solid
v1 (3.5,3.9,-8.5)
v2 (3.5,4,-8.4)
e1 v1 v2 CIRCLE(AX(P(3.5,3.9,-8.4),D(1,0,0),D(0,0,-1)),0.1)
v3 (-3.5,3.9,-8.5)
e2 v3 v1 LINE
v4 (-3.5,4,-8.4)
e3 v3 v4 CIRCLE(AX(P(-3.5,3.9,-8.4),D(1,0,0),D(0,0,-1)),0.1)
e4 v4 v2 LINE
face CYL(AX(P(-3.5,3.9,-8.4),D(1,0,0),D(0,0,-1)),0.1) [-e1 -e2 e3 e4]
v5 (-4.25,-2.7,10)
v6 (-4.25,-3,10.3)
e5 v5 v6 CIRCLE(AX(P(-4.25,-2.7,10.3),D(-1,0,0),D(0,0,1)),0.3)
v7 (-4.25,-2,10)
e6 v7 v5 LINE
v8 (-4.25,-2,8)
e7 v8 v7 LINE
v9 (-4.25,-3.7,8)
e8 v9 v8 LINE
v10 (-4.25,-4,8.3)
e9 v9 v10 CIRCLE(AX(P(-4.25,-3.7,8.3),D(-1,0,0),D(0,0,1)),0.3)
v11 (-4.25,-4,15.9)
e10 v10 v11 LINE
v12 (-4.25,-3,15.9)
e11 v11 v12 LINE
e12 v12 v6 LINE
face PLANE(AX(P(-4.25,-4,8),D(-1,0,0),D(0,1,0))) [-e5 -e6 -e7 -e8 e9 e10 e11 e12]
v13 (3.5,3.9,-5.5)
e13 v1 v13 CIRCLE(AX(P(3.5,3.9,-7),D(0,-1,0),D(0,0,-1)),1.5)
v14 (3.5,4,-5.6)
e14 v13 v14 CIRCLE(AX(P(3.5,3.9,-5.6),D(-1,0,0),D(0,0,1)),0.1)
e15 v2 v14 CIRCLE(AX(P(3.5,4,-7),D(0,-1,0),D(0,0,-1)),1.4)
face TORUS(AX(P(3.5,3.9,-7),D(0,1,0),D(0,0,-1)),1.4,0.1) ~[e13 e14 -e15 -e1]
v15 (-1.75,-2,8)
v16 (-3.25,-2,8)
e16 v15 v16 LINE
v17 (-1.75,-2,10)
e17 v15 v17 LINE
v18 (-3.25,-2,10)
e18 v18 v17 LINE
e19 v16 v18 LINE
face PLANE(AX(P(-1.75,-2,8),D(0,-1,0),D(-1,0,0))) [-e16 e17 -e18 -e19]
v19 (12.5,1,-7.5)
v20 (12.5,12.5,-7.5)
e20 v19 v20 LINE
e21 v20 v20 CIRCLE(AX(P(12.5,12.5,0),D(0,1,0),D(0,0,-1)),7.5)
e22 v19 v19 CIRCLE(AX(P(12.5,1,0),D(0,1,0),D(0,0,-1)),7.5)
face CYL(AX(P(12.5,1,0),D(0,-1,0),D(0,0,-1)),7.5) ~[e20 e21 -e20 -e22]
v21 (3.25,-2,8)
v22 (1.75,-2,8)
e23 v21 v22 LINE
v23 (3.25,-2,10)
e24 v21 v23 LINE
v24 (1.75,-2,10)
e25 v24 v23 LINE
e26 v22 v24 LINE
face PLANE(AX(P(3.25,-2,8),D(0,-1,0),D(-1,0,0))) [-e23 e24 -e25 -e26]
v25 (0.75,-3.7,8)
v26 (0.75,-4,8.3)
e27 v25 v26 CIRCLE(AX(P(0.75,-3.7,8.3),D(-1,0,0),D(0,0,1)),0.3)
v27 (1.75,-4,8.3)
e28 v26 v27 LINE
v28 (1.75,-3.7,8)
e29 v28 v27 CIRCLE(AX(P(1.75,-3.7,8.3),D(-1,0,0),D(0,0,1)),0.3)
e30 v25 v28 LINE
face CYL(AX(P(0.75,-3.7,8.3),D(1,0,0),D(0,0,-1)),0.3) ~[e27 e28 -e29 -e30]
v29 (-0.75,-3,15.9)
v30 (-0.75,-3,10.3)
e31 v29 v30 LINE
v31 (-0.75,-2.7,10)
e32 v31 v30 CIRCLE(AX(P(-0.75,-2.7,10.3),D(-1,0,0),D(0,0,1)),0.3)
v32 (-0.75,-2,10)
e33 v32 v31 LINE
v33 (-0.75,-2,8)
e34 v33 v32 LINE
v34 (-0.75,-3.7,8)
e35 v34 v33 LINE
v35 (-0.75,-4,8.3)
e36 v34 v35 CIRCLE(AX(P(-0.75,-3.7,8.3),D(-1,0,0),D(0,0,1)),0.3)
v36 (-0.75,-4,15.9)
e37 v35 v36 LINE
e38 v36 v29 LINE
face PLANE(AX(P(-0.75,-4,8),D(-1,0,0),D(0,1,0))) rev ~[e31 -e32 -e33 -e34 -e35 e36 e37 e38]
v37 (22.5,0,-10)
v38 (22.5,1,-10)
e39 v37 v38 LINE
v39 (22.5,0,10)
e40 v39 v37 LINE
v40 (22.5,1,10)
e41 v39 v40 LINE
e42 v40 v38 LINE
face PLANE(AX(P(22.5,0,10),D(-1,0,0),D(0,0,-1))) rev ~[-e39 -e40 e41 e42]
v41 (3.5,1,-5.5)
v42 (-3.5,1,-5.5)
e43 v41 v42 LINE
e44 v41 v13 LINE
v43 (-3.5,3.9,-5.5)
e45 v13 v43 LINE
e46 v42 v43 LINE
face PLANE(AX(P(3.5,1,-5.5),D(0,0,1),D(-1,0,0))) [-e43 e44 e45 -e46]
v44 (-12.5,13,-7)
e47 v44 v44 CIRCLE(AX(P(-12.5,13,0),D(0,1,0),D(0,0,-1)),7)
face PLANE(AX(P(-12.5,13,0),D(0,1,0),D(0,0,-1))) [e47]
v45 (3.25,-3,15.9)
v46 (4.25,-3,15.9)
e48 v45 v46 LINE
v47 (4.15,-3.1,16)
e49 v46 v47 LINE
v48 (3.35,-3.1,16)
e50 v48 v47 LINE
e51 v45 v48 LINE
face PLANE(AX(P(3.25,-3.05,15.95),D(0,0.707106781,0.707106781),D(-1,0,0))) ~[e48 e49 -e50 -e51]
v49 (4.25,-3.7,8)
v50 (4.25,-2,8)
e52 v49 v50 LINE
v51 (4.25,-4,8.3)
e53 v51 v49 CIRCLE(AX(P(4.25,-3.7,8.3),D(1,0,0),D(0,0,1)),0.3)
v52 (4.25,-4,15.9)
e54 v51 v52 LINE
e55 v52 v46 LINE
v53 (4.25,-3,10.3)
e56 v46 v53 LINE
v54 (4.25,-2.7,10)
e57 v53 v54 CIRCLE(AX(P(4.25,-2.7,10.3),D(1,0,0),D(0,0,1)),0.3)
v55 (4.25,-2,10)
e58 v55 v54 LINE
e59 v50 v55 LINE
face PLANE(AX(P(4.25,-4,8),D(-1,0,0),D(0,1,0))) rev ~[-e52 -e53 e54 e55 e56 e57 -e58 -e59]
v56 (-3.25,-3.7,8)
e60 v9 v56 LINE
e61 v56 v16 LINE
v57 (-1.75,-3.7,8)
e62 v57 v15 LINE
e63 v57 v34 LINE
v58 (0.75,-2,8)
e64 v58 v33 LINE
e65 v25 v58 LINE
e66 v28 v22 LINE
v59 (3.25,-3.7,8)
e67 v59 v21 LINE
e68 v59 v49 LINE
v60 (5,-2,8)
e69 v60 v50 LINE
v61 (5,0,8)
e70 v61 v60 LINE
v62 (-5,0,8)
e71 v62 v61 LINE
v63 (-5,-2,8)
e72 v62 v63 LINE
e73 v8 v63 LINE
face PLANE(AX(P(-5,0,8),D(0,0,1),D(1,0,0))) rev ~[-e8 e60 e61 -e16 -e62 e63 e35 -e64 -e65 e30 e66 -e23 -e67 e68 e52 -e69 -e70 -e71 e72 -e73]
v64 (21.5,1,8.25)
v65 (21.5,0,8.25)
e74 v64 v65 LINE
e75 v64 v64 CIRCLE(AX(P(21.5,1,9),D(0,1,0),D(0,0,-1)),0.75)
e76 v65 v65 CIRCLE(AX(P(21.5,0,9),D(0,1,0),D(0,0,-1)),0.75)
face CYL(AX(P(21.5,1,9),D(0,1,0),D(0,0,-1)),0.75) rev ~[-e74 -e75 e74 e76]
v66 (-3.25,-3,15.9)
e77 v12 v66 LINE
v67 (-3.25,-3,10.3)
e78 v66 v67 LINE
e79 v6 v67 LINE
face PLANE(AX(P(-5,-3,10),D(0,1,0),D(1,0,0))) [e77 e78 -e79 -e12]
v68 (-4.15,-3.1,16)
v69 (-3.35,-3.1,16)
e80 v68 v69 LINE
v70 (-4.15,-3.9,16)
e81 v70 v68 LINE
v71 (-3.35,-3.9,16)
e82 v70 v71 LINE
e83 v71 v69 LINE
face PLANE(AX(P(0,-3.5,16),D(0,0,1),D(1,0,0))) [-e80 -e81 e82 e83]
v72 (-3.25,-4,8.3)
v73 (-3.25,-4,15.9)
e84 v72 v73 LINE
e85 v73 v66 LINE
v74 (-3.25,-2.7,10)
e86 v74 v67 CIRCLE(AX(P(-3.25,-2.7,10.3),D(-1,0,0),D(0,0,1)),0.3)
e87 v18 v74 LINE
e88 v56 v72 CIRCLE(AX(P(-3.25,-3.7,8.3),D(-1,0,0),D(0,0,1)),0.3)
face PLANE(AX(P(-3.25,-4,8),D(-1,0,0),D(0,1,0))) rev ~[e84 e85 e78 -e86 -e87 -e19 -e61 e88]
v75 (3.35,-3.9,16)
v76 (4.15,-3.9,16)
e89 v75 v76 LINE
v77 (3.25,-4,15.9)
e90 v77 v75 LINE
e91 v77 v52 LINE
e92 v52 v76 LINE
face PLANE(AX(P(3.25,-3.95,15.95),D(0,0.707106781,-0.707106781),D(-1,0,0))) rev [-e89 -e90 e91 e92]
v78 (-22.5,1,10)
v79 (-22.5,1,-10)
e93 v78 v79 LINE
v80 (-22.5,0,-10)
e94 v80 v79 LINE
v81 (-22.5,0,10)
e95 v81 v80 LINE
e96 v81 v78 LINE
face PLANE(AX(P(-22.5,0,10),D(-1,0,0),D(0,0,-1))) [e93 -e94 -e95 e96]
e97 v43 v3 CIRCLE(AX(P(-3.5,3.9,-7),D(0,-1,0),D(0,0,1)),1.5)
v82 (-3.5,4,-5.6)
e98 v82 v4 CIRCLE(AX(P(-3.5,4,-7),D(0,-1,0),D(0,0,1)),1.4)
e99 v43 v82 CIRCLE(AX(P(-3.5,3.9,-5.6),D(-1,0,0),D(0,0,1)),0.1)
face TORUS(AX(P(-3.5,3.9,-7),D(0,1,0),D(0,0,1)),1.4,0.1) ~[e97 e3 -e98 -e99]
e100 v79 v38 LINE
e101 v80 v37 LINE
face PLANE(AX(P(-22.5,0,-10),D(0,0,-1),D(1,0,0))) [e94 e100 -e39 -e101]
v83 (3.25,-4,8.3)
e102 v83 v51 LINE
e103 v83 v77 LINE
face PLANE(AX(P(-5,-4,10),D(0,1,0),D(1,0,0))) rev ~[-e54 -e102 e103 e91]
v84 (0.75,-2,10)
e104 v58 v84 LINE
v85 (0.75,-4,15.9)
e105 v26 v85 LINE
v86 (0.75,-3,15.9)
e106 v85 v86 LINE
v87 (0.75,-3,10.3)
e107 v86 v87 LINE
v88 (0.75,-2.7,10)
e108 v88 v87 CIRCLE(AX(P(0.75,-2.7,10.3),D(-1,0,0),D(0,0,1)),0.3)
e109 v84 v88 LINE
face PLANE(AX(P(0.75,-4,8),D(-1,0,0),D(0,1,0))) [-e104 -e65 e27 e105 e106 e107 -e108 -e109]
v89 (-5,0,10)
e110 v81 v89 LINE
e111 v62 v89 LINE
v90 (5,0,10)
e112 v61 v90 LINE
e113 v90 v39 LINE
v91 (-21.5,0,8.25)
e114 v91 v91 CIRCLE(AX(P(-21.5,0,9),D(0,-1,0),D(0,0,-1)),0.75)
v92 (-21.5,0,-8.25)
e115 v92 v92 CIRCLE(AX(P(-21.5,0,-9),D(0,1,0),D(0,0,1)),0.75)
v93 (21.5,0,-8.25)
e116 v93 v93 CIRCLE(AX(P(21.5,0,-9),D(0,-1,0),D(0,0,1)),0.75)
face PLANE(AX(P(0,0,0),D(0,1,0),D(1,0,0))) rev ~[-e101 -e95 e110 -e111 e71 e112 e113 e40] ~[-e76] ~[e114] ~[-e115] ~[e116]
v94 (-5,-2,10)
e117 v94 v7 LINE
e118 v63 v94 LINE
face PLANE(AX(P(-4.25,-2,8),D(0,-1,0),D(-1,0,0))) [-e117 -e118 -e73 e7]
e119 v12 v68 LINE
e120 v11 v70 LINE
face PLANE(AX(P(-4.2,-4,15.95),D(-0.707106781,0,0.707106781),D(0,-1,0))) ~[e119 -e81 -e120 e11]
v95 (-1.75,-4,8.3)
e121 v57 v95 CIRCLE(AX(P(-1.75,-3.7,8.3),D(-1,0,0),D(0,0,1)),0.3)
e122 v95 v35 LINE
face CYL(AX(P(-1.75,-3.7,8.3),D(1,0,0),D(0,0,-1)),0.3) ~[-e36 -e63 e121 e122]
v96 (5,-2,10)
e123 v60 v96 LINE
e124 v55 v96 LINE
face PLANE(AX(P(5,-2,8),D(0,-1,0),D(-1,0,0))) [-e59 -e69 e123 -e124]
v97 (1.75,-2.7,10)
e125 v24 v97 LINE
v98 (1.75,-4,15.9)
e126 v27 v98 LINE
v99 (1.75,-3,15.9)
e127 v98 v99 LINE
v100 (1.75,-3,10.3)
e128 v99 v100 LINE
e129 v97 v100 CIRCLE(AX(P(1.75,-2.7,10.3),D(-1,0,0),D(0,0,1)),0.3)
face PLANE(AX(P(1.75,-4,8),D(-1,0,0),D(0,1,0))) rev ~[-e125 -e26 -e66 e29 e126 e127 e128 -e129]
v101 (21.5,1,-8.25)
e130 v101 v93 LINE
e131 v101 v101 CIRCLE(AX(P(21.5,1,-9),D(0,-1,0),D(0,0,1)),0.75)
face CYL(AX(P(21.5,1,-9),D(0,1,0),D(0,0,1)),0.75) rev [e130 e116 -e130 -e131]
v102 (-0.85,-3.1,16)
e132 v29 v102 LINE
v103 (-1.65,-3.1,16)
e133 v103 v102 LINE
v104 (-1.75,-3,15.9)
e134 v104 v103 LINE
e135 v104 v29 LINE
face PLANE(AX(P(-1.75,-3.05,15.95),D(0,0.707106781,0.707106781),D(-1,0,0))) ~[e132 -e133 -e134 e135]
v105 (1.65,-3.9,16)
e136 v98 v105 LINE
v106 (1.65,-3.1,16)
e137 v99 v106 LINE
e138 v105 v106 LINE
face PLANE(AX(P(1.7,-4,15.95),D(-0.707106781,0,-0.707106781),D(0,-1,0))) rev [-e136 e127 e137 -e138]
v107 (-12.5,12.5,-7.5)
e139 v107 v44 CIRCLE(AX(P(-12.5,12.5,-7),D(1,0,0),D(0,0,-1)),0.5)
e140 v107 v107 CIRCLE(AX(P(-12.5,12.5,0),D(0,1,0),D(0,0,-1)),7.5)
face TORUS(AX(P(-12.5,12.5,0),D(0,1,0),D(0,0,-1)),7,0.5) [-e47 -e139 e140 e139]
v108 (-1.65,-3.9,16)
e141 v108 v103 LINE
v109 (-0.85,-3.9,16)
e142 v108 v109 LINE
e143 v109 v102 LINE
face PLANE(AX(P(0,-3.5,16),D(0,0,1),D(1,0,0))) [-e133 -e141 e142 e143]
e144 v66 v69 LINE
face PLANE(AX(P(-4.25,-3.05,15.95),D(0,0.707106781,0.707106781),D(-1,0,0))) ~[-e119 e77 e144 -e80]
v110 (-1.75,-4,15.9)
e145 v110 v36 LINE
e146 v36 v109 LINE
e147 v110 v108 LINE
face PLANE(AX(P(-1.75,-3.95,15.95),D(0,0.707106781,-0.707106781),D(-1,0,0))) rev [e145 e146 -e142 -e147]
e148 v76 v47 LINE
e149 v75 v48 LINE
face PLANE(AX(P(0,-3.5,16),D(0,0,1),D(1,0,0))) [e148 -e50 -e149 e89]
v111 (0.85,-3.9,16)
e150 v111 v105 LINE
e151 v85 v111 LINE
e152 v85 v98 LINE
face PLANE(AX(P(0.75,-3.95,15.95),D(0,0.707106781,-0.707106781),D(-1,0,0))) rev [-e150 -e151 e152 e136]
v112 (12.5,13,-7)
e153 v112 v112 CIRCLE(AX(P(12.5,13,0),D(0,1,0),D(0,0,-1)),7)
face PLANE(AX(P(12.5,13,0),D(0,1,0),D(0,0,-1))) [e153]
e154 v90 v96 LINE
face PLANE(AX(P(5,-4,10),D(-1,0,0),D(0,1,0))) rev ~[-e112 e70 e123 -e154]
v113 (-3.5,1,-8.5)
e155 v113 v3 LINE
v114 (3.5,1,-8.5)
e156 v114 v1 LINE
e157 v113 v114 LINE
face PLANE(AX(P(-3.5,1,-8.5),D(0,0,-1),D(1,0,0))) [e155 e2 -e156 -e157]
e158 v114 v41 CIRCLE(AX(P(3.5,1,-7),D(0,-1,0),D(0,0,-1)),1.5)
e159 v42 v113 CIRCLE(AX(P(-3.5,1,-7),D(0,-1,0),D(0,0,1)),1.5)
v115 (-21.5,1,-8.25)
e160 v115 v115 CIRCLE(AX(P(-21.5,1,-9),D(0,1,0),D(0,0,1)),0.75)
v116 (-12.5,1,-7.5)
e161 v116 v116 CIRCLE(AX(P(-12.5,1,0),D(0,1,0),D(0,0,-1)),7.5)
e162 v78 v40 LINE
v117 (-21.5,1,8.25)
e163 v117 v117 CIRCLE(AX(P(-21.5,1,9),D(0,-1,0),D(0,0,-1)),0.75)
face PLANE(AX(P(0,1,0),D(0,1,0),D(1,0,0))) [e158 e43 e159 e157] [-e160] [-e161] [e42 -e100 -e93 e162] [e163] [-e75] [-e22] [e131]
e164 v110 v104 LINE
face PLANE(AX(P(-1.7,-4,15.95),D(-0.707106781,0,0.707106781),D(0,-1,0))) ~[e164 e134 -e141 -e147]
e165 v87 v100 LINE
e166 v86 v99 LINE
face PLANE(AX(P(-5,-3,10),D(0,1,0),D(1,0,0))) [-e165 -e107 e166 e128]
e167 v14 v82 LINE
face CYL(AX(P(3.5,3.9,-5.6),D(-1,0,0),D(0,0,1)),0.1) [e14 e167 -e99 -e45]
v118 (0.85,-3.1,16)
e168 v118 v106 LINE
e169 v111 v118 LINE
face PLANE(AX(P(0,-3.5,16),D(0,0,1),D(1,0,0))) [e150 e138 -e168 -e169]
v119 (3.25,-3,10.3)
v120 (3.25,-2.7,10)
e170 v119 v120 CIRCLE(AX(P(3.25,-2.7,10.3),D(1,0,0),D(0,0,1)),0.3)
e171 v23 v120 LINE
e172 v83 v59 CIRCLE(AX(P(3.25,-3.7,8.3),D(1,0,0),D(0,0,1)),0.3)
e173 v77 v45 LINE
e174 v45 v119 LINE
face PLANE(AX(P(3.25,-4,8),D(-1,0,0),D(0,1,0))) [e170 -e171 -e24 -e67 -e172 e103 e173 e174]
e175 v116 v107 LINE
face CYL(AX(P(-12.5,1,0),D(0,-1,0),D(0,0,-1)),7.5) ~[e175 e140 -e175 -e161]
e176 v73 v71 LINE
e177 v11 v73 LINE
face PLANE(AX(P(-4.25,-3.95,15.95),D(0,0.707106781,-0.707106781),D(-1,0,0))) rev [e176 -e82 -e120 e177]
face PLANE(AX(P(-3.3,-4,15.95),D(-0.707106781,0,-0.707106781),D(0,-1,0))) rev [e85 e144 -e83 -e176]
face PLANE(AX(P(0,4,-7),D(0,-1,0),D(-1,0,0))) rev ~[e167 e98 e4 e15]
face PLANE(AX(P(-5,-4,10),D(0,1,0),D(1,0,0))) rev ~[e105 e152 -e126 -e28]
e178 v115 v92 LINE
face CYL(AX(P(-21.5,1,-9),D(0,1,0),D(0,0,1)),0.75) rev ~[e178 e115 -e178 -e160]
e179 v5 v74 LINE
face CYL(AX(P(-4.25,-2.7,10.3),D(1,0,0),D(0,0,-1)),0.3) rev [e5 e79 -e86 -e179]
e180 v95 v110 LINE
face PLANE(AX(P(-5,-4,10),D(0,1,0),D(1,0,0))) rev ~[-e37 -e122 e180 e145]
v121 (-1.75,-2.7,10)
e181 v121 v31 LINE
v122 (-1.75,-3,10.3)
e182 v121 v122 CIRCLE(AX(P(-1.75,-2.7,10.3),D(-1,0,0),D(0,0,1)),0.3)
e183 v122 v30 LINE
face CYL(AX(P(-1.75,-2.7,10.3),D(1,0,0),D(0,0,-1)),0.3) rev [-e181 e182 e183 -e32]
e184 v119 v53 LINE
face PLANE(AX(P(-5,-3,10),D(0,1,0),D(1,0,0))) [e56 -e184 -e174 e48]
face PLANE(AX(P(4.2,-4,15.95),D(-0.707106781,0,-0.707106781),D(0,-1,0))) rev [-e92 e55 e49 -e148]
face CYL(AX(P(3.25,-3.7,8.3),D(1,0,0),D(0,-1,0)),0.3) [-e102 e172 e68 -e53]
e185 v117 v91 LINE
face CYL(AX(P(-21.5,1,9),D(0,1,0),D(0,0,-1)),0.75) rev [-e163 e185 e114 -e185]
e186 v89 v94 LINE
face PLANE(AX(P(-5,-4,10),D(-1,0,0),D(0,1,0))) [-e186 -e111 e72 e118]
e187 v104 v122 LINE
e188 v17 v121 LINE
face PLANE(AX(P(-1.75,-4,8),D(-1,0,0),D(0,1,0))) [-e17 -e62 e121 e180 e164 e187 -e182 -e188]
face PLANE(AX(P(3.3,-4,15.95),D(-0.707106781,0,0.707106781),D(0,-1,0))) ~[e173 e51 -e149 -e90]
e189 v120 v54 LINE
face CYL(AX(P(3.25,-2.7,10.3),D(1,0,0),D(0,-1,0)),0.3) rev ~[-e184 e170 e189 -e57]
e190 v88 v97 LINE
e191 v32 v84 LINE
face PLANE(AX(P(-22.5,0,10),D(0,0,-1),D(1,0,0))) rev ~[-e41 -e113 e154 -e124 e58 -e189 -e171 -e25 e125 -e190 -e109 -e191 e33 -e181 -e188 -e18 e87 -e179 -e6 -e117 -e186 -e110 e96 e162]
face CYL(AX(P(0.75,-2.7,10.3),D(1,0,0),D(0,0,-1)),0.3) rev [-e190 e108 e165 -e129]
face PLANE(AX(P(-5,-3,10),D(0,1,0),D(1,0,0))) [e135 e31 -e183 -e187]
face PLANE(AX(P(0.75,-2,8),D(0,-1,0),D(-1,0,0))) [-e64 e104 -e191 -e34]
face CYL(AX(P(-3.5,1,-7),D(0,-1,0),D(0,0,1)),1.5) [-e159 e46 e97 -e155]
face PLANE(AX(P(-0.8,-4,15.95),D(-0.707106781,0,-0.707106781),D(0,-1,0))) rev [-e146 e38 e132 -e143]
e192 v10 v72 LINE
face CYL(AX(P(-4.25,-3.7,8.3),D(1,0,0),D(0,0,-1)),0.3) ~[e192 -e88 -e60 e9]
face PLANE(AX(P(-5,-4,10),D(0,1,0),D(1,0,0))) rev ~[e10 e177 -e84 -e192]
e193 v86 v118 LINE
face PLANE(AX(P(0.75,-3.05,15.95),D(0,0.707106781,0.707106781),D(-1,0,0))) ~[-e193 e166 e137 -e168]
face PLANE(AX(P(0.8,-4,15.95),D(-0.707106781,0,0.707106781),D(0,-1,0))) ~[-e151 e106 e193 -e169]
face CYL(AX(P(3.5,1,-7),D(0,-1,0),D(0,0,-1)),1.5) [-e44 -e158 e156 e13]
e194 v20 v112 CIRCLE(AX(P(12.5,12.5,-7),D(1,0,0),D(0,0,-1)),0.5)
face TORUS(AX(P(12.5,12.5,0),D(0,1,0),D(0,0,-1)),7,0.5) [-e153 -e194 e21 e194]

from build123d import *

# Parameters (mm, degrees)
ESQUISSE1_W               = 45
ESQUISSE1_H               = 20
BOSS_EXTRU_1_DEPTH        = 1
ENL_V_MAT_EXTRU_1_REACH   = 26.642
ESQUISSE2_R               = 0.75
SYM_TRIE2_COPY_1_REACH    = 26.642
SYM_TRIE2_COPY_1_SKETCH_R = 0.75
ESQUISSE3_R               = 7.5
BOSS_EXTRU_2_DEPTH        = 12
CONG_1_R                  = 0.5
BOSS_EXTRU_3_DEPTH        = 3
CONG_2_R                  = 0.1
ESQUISSE5_W               = 10
ESQUISSE5_H               = 2
BOSS_EXTRU_4_DEPTH        = 4
ESQUISSE6_W               = 10
ESQUISSE6_H               = 1
BOSS_EXTRU_5_DEPTH        = 6
ENL_V_MAT_EXTRU_2_REACH   = 33.611
ESQUISSE7_W               = 1.5
ESQUISSE7_H               = 2
ESQUISSE7_W_2             = 0.75
CHANFREIN1_SIZE           = 0.1
CONG_3_R                  = 0.3


with BuildPart() as part:
    # Esquisse1 → Boss.-Extru.1 (new body)
    with BuildSketch(Plane(origin=(0, 0, 0), x_dir=(1, 0, 0), z_dir=(0, 1, 0))):
        Rectangle(ESQUISSE1_W, ESQUISSE1_H)
    extrude(amount=BOSS_EXTRU_1_DEPTH)

    # Esquisse2 → Enlèv. mat.-Extru.1 (cut, up to next)
    with BuildSketch(Plane(origin=(0, 1, 0), x_dir=(1, 0, 0), z_dir=(0, 1, 0)), mode=Mode.PRIVATE) as enl_v_mat_extru_1_sk1:
        with Locations(Location((-21.5, 9, 0), (0, 0, 270))):
            Circle(ESQUISSE2_R)
    enl_v_mat_extru_1_tool1 = extrude(enl_v_mat_extru_1_sk1.sketch, amount=-ENL_V_MAT_EXTRU_1_REACH, mode=Mode.PRIVATE) & part.part
    enl_v_mat_extru_1 = enl_v_mat_extru_1_tool1.solids().sort_by_distance((-21.5, 1, -9))[0]
    add(enl_v_mat_extru_1, mode=Mode.SUBTRACT)

    # Symétrie1: Enlèv. mat.-Extru.1 across plane
    add(enl_v_mat_extru_1.mirror(Plane(origin=(0, 0, 0), x_dir=(0, 0, 1), z_dir=(1, 0, 0))), mode=Mode.SUBTRACT)

    # Symétrie2: Enlèv. mat.-Extru.1 across plane
    add(enl_v_mat_extru_1.mirror(Plane.XY), mode=Mode.SUBTRACT)

    # Symétrie2 copy 1 sketch → Symétrie2 copy 1 (cut, up to next)
    with BuildSketch(Plane(origin=(0, 1, 0), x_dir=(-1, 0, 0), z_dir=(0, 1, 0)), mode=Mode.PRIVATE) as sym_trie2_copy_1_sk1:
        with Locations(Location((-21.5, 9, 0), (0, 0, 270))):
            Circle(SYM_TRIE2_COPY_1_SKETCH_R)
    sym_trie2_copy_1_tool1 = extrude(sym_trie2_copy_1_sk1.sketch, amount=-SYM_TRIE2_COPY_1_REACH, mode=Mode.PRIVATE) & part.part
    add(sym_trie2_copy_1_tool1.solids().sort_by_distance((21.5, 1, 9))[0], mode=Mode.SUBTRACT)

    # Esquisse3 → Boss.-Extru.2 (add)
    with BuildSketch(Plane(origin=(0, 1, 0), x_dir=(1, 0, 0), z_dir=(0, 1, 0))):
        with Locations(Location((-12.5, 0, 0), (0, 0, 90))):
            Circle(ESQUISSE3_R)
        with Locations(Location((12.5, 0, 0), (0, 0, 90))):
            Circle(ESQUISSE3_R)
    extrude(amount=BOSS_EXTRU_2_DEPTH)

    # Congé1
    cong_1_edges = [part.edges().sort_by_distance(p)[0] for p in [
        (-12.5, 13, 7.5),
        (12.5, 13, 7.5),
    ]]
    fillet(cong_1_edges, radius=CONG_1_R)

    # Esquisse4 → Boss.-Extru.3 (add)
    with BuildSketch(Plane(origin=(0, 1, 0), x_dir=(1, 0, 0), z_dir=(0, 1, 0))):
        with BuildLine():
            Line((-3.5, 8.5), (3.5, 8.5))
            ThreePointArc((3.5, 8.5), (5, 7), (3.5, 5.5))
            Line((3.5, 5.5), (-3.5, 5.5))
            ThreePointArc((-3.5, 5.5), (-5, 7), (-3.5, 8.5))
        make_face()
    extrude(amount=BOSS_EXTRU_3_DEPTH)

    # Congé2
    cong_2_edges = [part.edges().sort_by_distance(p)[0] for p in [
        (-5, 4, -7),
        (0, 4, -5.5),
        (5, 4, -7),
        (0, 4, -8.5),
    ]]
    fillet(cong_2_edges, radius=CONG_2_R)

    # Esquisse5 → Boss.-Extru.4 (add)
    with BuildSketch(Plane.XZ):
        with Locations((0, 9)):
            Rectangle(ESQUISSE5_W, ESQUISSE5_H)
    extrude(amount=BOSS_EXTRU_4_DEPTH)

    # Esquisse6 → Boss.-Extru.5 (add)
    with BuildSketch(Plane.XY.offset(10)):
        with Locations((0, -3.5)):
            Rectangle(ESQUISSE6_W, ESQUISSE6_H)
    extrude(amount=BOSS_EXTRU_5_DEPTH)

    # Esquisse7 → Enlèv. mat.-Extru.2 (cut, up to next)
    with BuildSketch(Plane(origin=(0, 0, 8), x_dir=(-1, 0, 0), z_dir=(0, 0, -1)), mode=Mode.PRIVATE) as enl_v_mat_extru_2_sk1:
        with Locations((-2.5, -3)):
            Rectangle(ESQUISSE7_W, ESQUISSE7_H)
    enl_v_mat_extru_2_tool1 = extrude(enl_v_mat_extru_2_sk1.sketch, amount=-ENL_V_MAT_EXTRU_2_REACH, mode=Mode.PRIVATE) & part.part
    # Esquisse7 → Enlèv. mat.-Extru.2 (cut, up to next)
    with BuildSketch(Plane(origin=(0, 0, 8), x_dir=(-1, 0, 0), z_dir=(0, 0, -1)), mode=Mode.PRIVATE) as enl_v_mat_extru_2_sk2:
        with Locations((-4.625, -3)):
            Rectangle(ESQUISSE7_W_2, ESQUISSE7_H)
    enl_v_mat_extru_2_tool2 = extrude(enl_v_mat_extru_2_sk2.sketch, amount=-ENL_V_MAT_EXTRU_2_REACH, mode=Mode.PRIVATE) & part.part
    # Esquisse7 → Enlèv. mat.-Extru.2 (cut, up to next)
    with BuildSketch(Plane(origin=(0, 0, 8), x_dir=(-1, 0, 0), z_dir=(0, 0, -1)), mode=Mode.PRIVATE) as enl_v_mat_extru_2_sk3:
        with Locations((0, -3)):
            Rectangle(ESQUISSE7_W, ESQUISSE7_H)
    enl_v_mat_extru_2_tool3 = extrude(enl_v_mat_extru_2_sk3.sketch, amount=-ENL_V_MAT_EXTRU_2_REACH, mode=Mode.PRIVATE) & part.part
    # Esquisse7 → Enlèv. mat.-Extru.2 (cut, up to next)
    with BuildSketch(Plane(origin=(0, 0, 8), x_dir=(-1, 0, 0), z_dir=(0, 0, -1)), mode=Mode.PRIVATE) as enl_v_mat_extru_2_sk4:
        with Locations((2.5, -3)):
            Rectangle(ESQUISSE7_W, ESQUISSE7_H)
    enl_v_mat_extru_2_tool4 = extrude(enl_v_mat_extru_2_sk4.sketch, amount=-ENL_V_MAT_EXTRU_2_REACH, mode=Mode.PRIVATE) & part.part
    # Esquisse7 → Enlèv. mat.-Extru.2 (cut, up to next)
    with BuildSketch(Plane(origin=(0, 0, 8), x_dir=(-1, 0, 0), z_dir=(0, 0, -1)), mode=Mode.PRIVATE) as enl_v_mat_extru_2_sk5:
        with Locations((4.625, -3)):
            Rectangle(ESQUISSE7_W_2, ESQUISSE7_H)
    enl_v_mat_extru_2_tool5 = extrude(enl_v_mat_extru_2_sk5.sketch, amount=-ENL_V_MAT_EXTRU_2_REACH, mode=Mode.PRIVATE) & part.part
    add(enl_v_mat_extru_2_tool1.solids().sort_by_distance((2.5, -3, 8))[0], mode=Mode.SUBTRACT)
    add(enl_v_mat_extru_2_tool2.solids().sort_by_distance((4.625, -3, 8))[0], mode=Mode.SUBTRACT)
    add(enl_v_mat_extru_2_tool3.solids().sort_by_distance((0, -3, 8))[0], mode=Mode.SUBTRACT)
    add(enl_v_mat_extru_2_tool4.solids().sort_by_distance((-2.5, -3, 8))[0], mode=Mode.SUBTRACT)
    add(enl_v_mat_extru_2_tool5.solids().sort_by_distance((-4.625, -3, 8))[0], mode=Mode.SUBTRACT)

    # Chanfrein1
    chanfrein1_edges = [part.edges().sort_by_distance(p)[0] for p in [
        (-3.75, -3, 16),
        (-4.25, -3.5, 16),
        (-1.75, -3.5, 16),
        (-3.25, -3.5, 16),
        (0.75, -3.5, 16),
        (-0.75, -3.5, 16),
        (4.25, -3.5, 16),
        (3.25, -3.5, 16),
        (1.75, -3.5, 16),
        (-3.75, -4, 16),
        (-1.25, -4, 16),
        (1.25, -4, 16),
        (3.75, -4, 16),
        (3.75, -3, 16),
        (1.25, -3, 16),
        (-1.25, -3, 16),
    ]]
    chamfer(chanfrein1_edges, length=CHANFREIN1_SIZE)

    # Congé3
    cong_3_edges = [part.edges().sort_by_distance(p)[0] for p in [
        (3.75, -3, 10),
        (1.25, -3, 10),
        (-1.25, -3, 10),
        (-3.75, -3, 10),
        (-3.75, -4, 8),
        (-1.25, -4, 8),
        (1.25, -4, 8),
        (3.75, -4, 8),
    ]]
    fillet(cong_3_edges, radius=CONG_3_R)


solid = part.part
